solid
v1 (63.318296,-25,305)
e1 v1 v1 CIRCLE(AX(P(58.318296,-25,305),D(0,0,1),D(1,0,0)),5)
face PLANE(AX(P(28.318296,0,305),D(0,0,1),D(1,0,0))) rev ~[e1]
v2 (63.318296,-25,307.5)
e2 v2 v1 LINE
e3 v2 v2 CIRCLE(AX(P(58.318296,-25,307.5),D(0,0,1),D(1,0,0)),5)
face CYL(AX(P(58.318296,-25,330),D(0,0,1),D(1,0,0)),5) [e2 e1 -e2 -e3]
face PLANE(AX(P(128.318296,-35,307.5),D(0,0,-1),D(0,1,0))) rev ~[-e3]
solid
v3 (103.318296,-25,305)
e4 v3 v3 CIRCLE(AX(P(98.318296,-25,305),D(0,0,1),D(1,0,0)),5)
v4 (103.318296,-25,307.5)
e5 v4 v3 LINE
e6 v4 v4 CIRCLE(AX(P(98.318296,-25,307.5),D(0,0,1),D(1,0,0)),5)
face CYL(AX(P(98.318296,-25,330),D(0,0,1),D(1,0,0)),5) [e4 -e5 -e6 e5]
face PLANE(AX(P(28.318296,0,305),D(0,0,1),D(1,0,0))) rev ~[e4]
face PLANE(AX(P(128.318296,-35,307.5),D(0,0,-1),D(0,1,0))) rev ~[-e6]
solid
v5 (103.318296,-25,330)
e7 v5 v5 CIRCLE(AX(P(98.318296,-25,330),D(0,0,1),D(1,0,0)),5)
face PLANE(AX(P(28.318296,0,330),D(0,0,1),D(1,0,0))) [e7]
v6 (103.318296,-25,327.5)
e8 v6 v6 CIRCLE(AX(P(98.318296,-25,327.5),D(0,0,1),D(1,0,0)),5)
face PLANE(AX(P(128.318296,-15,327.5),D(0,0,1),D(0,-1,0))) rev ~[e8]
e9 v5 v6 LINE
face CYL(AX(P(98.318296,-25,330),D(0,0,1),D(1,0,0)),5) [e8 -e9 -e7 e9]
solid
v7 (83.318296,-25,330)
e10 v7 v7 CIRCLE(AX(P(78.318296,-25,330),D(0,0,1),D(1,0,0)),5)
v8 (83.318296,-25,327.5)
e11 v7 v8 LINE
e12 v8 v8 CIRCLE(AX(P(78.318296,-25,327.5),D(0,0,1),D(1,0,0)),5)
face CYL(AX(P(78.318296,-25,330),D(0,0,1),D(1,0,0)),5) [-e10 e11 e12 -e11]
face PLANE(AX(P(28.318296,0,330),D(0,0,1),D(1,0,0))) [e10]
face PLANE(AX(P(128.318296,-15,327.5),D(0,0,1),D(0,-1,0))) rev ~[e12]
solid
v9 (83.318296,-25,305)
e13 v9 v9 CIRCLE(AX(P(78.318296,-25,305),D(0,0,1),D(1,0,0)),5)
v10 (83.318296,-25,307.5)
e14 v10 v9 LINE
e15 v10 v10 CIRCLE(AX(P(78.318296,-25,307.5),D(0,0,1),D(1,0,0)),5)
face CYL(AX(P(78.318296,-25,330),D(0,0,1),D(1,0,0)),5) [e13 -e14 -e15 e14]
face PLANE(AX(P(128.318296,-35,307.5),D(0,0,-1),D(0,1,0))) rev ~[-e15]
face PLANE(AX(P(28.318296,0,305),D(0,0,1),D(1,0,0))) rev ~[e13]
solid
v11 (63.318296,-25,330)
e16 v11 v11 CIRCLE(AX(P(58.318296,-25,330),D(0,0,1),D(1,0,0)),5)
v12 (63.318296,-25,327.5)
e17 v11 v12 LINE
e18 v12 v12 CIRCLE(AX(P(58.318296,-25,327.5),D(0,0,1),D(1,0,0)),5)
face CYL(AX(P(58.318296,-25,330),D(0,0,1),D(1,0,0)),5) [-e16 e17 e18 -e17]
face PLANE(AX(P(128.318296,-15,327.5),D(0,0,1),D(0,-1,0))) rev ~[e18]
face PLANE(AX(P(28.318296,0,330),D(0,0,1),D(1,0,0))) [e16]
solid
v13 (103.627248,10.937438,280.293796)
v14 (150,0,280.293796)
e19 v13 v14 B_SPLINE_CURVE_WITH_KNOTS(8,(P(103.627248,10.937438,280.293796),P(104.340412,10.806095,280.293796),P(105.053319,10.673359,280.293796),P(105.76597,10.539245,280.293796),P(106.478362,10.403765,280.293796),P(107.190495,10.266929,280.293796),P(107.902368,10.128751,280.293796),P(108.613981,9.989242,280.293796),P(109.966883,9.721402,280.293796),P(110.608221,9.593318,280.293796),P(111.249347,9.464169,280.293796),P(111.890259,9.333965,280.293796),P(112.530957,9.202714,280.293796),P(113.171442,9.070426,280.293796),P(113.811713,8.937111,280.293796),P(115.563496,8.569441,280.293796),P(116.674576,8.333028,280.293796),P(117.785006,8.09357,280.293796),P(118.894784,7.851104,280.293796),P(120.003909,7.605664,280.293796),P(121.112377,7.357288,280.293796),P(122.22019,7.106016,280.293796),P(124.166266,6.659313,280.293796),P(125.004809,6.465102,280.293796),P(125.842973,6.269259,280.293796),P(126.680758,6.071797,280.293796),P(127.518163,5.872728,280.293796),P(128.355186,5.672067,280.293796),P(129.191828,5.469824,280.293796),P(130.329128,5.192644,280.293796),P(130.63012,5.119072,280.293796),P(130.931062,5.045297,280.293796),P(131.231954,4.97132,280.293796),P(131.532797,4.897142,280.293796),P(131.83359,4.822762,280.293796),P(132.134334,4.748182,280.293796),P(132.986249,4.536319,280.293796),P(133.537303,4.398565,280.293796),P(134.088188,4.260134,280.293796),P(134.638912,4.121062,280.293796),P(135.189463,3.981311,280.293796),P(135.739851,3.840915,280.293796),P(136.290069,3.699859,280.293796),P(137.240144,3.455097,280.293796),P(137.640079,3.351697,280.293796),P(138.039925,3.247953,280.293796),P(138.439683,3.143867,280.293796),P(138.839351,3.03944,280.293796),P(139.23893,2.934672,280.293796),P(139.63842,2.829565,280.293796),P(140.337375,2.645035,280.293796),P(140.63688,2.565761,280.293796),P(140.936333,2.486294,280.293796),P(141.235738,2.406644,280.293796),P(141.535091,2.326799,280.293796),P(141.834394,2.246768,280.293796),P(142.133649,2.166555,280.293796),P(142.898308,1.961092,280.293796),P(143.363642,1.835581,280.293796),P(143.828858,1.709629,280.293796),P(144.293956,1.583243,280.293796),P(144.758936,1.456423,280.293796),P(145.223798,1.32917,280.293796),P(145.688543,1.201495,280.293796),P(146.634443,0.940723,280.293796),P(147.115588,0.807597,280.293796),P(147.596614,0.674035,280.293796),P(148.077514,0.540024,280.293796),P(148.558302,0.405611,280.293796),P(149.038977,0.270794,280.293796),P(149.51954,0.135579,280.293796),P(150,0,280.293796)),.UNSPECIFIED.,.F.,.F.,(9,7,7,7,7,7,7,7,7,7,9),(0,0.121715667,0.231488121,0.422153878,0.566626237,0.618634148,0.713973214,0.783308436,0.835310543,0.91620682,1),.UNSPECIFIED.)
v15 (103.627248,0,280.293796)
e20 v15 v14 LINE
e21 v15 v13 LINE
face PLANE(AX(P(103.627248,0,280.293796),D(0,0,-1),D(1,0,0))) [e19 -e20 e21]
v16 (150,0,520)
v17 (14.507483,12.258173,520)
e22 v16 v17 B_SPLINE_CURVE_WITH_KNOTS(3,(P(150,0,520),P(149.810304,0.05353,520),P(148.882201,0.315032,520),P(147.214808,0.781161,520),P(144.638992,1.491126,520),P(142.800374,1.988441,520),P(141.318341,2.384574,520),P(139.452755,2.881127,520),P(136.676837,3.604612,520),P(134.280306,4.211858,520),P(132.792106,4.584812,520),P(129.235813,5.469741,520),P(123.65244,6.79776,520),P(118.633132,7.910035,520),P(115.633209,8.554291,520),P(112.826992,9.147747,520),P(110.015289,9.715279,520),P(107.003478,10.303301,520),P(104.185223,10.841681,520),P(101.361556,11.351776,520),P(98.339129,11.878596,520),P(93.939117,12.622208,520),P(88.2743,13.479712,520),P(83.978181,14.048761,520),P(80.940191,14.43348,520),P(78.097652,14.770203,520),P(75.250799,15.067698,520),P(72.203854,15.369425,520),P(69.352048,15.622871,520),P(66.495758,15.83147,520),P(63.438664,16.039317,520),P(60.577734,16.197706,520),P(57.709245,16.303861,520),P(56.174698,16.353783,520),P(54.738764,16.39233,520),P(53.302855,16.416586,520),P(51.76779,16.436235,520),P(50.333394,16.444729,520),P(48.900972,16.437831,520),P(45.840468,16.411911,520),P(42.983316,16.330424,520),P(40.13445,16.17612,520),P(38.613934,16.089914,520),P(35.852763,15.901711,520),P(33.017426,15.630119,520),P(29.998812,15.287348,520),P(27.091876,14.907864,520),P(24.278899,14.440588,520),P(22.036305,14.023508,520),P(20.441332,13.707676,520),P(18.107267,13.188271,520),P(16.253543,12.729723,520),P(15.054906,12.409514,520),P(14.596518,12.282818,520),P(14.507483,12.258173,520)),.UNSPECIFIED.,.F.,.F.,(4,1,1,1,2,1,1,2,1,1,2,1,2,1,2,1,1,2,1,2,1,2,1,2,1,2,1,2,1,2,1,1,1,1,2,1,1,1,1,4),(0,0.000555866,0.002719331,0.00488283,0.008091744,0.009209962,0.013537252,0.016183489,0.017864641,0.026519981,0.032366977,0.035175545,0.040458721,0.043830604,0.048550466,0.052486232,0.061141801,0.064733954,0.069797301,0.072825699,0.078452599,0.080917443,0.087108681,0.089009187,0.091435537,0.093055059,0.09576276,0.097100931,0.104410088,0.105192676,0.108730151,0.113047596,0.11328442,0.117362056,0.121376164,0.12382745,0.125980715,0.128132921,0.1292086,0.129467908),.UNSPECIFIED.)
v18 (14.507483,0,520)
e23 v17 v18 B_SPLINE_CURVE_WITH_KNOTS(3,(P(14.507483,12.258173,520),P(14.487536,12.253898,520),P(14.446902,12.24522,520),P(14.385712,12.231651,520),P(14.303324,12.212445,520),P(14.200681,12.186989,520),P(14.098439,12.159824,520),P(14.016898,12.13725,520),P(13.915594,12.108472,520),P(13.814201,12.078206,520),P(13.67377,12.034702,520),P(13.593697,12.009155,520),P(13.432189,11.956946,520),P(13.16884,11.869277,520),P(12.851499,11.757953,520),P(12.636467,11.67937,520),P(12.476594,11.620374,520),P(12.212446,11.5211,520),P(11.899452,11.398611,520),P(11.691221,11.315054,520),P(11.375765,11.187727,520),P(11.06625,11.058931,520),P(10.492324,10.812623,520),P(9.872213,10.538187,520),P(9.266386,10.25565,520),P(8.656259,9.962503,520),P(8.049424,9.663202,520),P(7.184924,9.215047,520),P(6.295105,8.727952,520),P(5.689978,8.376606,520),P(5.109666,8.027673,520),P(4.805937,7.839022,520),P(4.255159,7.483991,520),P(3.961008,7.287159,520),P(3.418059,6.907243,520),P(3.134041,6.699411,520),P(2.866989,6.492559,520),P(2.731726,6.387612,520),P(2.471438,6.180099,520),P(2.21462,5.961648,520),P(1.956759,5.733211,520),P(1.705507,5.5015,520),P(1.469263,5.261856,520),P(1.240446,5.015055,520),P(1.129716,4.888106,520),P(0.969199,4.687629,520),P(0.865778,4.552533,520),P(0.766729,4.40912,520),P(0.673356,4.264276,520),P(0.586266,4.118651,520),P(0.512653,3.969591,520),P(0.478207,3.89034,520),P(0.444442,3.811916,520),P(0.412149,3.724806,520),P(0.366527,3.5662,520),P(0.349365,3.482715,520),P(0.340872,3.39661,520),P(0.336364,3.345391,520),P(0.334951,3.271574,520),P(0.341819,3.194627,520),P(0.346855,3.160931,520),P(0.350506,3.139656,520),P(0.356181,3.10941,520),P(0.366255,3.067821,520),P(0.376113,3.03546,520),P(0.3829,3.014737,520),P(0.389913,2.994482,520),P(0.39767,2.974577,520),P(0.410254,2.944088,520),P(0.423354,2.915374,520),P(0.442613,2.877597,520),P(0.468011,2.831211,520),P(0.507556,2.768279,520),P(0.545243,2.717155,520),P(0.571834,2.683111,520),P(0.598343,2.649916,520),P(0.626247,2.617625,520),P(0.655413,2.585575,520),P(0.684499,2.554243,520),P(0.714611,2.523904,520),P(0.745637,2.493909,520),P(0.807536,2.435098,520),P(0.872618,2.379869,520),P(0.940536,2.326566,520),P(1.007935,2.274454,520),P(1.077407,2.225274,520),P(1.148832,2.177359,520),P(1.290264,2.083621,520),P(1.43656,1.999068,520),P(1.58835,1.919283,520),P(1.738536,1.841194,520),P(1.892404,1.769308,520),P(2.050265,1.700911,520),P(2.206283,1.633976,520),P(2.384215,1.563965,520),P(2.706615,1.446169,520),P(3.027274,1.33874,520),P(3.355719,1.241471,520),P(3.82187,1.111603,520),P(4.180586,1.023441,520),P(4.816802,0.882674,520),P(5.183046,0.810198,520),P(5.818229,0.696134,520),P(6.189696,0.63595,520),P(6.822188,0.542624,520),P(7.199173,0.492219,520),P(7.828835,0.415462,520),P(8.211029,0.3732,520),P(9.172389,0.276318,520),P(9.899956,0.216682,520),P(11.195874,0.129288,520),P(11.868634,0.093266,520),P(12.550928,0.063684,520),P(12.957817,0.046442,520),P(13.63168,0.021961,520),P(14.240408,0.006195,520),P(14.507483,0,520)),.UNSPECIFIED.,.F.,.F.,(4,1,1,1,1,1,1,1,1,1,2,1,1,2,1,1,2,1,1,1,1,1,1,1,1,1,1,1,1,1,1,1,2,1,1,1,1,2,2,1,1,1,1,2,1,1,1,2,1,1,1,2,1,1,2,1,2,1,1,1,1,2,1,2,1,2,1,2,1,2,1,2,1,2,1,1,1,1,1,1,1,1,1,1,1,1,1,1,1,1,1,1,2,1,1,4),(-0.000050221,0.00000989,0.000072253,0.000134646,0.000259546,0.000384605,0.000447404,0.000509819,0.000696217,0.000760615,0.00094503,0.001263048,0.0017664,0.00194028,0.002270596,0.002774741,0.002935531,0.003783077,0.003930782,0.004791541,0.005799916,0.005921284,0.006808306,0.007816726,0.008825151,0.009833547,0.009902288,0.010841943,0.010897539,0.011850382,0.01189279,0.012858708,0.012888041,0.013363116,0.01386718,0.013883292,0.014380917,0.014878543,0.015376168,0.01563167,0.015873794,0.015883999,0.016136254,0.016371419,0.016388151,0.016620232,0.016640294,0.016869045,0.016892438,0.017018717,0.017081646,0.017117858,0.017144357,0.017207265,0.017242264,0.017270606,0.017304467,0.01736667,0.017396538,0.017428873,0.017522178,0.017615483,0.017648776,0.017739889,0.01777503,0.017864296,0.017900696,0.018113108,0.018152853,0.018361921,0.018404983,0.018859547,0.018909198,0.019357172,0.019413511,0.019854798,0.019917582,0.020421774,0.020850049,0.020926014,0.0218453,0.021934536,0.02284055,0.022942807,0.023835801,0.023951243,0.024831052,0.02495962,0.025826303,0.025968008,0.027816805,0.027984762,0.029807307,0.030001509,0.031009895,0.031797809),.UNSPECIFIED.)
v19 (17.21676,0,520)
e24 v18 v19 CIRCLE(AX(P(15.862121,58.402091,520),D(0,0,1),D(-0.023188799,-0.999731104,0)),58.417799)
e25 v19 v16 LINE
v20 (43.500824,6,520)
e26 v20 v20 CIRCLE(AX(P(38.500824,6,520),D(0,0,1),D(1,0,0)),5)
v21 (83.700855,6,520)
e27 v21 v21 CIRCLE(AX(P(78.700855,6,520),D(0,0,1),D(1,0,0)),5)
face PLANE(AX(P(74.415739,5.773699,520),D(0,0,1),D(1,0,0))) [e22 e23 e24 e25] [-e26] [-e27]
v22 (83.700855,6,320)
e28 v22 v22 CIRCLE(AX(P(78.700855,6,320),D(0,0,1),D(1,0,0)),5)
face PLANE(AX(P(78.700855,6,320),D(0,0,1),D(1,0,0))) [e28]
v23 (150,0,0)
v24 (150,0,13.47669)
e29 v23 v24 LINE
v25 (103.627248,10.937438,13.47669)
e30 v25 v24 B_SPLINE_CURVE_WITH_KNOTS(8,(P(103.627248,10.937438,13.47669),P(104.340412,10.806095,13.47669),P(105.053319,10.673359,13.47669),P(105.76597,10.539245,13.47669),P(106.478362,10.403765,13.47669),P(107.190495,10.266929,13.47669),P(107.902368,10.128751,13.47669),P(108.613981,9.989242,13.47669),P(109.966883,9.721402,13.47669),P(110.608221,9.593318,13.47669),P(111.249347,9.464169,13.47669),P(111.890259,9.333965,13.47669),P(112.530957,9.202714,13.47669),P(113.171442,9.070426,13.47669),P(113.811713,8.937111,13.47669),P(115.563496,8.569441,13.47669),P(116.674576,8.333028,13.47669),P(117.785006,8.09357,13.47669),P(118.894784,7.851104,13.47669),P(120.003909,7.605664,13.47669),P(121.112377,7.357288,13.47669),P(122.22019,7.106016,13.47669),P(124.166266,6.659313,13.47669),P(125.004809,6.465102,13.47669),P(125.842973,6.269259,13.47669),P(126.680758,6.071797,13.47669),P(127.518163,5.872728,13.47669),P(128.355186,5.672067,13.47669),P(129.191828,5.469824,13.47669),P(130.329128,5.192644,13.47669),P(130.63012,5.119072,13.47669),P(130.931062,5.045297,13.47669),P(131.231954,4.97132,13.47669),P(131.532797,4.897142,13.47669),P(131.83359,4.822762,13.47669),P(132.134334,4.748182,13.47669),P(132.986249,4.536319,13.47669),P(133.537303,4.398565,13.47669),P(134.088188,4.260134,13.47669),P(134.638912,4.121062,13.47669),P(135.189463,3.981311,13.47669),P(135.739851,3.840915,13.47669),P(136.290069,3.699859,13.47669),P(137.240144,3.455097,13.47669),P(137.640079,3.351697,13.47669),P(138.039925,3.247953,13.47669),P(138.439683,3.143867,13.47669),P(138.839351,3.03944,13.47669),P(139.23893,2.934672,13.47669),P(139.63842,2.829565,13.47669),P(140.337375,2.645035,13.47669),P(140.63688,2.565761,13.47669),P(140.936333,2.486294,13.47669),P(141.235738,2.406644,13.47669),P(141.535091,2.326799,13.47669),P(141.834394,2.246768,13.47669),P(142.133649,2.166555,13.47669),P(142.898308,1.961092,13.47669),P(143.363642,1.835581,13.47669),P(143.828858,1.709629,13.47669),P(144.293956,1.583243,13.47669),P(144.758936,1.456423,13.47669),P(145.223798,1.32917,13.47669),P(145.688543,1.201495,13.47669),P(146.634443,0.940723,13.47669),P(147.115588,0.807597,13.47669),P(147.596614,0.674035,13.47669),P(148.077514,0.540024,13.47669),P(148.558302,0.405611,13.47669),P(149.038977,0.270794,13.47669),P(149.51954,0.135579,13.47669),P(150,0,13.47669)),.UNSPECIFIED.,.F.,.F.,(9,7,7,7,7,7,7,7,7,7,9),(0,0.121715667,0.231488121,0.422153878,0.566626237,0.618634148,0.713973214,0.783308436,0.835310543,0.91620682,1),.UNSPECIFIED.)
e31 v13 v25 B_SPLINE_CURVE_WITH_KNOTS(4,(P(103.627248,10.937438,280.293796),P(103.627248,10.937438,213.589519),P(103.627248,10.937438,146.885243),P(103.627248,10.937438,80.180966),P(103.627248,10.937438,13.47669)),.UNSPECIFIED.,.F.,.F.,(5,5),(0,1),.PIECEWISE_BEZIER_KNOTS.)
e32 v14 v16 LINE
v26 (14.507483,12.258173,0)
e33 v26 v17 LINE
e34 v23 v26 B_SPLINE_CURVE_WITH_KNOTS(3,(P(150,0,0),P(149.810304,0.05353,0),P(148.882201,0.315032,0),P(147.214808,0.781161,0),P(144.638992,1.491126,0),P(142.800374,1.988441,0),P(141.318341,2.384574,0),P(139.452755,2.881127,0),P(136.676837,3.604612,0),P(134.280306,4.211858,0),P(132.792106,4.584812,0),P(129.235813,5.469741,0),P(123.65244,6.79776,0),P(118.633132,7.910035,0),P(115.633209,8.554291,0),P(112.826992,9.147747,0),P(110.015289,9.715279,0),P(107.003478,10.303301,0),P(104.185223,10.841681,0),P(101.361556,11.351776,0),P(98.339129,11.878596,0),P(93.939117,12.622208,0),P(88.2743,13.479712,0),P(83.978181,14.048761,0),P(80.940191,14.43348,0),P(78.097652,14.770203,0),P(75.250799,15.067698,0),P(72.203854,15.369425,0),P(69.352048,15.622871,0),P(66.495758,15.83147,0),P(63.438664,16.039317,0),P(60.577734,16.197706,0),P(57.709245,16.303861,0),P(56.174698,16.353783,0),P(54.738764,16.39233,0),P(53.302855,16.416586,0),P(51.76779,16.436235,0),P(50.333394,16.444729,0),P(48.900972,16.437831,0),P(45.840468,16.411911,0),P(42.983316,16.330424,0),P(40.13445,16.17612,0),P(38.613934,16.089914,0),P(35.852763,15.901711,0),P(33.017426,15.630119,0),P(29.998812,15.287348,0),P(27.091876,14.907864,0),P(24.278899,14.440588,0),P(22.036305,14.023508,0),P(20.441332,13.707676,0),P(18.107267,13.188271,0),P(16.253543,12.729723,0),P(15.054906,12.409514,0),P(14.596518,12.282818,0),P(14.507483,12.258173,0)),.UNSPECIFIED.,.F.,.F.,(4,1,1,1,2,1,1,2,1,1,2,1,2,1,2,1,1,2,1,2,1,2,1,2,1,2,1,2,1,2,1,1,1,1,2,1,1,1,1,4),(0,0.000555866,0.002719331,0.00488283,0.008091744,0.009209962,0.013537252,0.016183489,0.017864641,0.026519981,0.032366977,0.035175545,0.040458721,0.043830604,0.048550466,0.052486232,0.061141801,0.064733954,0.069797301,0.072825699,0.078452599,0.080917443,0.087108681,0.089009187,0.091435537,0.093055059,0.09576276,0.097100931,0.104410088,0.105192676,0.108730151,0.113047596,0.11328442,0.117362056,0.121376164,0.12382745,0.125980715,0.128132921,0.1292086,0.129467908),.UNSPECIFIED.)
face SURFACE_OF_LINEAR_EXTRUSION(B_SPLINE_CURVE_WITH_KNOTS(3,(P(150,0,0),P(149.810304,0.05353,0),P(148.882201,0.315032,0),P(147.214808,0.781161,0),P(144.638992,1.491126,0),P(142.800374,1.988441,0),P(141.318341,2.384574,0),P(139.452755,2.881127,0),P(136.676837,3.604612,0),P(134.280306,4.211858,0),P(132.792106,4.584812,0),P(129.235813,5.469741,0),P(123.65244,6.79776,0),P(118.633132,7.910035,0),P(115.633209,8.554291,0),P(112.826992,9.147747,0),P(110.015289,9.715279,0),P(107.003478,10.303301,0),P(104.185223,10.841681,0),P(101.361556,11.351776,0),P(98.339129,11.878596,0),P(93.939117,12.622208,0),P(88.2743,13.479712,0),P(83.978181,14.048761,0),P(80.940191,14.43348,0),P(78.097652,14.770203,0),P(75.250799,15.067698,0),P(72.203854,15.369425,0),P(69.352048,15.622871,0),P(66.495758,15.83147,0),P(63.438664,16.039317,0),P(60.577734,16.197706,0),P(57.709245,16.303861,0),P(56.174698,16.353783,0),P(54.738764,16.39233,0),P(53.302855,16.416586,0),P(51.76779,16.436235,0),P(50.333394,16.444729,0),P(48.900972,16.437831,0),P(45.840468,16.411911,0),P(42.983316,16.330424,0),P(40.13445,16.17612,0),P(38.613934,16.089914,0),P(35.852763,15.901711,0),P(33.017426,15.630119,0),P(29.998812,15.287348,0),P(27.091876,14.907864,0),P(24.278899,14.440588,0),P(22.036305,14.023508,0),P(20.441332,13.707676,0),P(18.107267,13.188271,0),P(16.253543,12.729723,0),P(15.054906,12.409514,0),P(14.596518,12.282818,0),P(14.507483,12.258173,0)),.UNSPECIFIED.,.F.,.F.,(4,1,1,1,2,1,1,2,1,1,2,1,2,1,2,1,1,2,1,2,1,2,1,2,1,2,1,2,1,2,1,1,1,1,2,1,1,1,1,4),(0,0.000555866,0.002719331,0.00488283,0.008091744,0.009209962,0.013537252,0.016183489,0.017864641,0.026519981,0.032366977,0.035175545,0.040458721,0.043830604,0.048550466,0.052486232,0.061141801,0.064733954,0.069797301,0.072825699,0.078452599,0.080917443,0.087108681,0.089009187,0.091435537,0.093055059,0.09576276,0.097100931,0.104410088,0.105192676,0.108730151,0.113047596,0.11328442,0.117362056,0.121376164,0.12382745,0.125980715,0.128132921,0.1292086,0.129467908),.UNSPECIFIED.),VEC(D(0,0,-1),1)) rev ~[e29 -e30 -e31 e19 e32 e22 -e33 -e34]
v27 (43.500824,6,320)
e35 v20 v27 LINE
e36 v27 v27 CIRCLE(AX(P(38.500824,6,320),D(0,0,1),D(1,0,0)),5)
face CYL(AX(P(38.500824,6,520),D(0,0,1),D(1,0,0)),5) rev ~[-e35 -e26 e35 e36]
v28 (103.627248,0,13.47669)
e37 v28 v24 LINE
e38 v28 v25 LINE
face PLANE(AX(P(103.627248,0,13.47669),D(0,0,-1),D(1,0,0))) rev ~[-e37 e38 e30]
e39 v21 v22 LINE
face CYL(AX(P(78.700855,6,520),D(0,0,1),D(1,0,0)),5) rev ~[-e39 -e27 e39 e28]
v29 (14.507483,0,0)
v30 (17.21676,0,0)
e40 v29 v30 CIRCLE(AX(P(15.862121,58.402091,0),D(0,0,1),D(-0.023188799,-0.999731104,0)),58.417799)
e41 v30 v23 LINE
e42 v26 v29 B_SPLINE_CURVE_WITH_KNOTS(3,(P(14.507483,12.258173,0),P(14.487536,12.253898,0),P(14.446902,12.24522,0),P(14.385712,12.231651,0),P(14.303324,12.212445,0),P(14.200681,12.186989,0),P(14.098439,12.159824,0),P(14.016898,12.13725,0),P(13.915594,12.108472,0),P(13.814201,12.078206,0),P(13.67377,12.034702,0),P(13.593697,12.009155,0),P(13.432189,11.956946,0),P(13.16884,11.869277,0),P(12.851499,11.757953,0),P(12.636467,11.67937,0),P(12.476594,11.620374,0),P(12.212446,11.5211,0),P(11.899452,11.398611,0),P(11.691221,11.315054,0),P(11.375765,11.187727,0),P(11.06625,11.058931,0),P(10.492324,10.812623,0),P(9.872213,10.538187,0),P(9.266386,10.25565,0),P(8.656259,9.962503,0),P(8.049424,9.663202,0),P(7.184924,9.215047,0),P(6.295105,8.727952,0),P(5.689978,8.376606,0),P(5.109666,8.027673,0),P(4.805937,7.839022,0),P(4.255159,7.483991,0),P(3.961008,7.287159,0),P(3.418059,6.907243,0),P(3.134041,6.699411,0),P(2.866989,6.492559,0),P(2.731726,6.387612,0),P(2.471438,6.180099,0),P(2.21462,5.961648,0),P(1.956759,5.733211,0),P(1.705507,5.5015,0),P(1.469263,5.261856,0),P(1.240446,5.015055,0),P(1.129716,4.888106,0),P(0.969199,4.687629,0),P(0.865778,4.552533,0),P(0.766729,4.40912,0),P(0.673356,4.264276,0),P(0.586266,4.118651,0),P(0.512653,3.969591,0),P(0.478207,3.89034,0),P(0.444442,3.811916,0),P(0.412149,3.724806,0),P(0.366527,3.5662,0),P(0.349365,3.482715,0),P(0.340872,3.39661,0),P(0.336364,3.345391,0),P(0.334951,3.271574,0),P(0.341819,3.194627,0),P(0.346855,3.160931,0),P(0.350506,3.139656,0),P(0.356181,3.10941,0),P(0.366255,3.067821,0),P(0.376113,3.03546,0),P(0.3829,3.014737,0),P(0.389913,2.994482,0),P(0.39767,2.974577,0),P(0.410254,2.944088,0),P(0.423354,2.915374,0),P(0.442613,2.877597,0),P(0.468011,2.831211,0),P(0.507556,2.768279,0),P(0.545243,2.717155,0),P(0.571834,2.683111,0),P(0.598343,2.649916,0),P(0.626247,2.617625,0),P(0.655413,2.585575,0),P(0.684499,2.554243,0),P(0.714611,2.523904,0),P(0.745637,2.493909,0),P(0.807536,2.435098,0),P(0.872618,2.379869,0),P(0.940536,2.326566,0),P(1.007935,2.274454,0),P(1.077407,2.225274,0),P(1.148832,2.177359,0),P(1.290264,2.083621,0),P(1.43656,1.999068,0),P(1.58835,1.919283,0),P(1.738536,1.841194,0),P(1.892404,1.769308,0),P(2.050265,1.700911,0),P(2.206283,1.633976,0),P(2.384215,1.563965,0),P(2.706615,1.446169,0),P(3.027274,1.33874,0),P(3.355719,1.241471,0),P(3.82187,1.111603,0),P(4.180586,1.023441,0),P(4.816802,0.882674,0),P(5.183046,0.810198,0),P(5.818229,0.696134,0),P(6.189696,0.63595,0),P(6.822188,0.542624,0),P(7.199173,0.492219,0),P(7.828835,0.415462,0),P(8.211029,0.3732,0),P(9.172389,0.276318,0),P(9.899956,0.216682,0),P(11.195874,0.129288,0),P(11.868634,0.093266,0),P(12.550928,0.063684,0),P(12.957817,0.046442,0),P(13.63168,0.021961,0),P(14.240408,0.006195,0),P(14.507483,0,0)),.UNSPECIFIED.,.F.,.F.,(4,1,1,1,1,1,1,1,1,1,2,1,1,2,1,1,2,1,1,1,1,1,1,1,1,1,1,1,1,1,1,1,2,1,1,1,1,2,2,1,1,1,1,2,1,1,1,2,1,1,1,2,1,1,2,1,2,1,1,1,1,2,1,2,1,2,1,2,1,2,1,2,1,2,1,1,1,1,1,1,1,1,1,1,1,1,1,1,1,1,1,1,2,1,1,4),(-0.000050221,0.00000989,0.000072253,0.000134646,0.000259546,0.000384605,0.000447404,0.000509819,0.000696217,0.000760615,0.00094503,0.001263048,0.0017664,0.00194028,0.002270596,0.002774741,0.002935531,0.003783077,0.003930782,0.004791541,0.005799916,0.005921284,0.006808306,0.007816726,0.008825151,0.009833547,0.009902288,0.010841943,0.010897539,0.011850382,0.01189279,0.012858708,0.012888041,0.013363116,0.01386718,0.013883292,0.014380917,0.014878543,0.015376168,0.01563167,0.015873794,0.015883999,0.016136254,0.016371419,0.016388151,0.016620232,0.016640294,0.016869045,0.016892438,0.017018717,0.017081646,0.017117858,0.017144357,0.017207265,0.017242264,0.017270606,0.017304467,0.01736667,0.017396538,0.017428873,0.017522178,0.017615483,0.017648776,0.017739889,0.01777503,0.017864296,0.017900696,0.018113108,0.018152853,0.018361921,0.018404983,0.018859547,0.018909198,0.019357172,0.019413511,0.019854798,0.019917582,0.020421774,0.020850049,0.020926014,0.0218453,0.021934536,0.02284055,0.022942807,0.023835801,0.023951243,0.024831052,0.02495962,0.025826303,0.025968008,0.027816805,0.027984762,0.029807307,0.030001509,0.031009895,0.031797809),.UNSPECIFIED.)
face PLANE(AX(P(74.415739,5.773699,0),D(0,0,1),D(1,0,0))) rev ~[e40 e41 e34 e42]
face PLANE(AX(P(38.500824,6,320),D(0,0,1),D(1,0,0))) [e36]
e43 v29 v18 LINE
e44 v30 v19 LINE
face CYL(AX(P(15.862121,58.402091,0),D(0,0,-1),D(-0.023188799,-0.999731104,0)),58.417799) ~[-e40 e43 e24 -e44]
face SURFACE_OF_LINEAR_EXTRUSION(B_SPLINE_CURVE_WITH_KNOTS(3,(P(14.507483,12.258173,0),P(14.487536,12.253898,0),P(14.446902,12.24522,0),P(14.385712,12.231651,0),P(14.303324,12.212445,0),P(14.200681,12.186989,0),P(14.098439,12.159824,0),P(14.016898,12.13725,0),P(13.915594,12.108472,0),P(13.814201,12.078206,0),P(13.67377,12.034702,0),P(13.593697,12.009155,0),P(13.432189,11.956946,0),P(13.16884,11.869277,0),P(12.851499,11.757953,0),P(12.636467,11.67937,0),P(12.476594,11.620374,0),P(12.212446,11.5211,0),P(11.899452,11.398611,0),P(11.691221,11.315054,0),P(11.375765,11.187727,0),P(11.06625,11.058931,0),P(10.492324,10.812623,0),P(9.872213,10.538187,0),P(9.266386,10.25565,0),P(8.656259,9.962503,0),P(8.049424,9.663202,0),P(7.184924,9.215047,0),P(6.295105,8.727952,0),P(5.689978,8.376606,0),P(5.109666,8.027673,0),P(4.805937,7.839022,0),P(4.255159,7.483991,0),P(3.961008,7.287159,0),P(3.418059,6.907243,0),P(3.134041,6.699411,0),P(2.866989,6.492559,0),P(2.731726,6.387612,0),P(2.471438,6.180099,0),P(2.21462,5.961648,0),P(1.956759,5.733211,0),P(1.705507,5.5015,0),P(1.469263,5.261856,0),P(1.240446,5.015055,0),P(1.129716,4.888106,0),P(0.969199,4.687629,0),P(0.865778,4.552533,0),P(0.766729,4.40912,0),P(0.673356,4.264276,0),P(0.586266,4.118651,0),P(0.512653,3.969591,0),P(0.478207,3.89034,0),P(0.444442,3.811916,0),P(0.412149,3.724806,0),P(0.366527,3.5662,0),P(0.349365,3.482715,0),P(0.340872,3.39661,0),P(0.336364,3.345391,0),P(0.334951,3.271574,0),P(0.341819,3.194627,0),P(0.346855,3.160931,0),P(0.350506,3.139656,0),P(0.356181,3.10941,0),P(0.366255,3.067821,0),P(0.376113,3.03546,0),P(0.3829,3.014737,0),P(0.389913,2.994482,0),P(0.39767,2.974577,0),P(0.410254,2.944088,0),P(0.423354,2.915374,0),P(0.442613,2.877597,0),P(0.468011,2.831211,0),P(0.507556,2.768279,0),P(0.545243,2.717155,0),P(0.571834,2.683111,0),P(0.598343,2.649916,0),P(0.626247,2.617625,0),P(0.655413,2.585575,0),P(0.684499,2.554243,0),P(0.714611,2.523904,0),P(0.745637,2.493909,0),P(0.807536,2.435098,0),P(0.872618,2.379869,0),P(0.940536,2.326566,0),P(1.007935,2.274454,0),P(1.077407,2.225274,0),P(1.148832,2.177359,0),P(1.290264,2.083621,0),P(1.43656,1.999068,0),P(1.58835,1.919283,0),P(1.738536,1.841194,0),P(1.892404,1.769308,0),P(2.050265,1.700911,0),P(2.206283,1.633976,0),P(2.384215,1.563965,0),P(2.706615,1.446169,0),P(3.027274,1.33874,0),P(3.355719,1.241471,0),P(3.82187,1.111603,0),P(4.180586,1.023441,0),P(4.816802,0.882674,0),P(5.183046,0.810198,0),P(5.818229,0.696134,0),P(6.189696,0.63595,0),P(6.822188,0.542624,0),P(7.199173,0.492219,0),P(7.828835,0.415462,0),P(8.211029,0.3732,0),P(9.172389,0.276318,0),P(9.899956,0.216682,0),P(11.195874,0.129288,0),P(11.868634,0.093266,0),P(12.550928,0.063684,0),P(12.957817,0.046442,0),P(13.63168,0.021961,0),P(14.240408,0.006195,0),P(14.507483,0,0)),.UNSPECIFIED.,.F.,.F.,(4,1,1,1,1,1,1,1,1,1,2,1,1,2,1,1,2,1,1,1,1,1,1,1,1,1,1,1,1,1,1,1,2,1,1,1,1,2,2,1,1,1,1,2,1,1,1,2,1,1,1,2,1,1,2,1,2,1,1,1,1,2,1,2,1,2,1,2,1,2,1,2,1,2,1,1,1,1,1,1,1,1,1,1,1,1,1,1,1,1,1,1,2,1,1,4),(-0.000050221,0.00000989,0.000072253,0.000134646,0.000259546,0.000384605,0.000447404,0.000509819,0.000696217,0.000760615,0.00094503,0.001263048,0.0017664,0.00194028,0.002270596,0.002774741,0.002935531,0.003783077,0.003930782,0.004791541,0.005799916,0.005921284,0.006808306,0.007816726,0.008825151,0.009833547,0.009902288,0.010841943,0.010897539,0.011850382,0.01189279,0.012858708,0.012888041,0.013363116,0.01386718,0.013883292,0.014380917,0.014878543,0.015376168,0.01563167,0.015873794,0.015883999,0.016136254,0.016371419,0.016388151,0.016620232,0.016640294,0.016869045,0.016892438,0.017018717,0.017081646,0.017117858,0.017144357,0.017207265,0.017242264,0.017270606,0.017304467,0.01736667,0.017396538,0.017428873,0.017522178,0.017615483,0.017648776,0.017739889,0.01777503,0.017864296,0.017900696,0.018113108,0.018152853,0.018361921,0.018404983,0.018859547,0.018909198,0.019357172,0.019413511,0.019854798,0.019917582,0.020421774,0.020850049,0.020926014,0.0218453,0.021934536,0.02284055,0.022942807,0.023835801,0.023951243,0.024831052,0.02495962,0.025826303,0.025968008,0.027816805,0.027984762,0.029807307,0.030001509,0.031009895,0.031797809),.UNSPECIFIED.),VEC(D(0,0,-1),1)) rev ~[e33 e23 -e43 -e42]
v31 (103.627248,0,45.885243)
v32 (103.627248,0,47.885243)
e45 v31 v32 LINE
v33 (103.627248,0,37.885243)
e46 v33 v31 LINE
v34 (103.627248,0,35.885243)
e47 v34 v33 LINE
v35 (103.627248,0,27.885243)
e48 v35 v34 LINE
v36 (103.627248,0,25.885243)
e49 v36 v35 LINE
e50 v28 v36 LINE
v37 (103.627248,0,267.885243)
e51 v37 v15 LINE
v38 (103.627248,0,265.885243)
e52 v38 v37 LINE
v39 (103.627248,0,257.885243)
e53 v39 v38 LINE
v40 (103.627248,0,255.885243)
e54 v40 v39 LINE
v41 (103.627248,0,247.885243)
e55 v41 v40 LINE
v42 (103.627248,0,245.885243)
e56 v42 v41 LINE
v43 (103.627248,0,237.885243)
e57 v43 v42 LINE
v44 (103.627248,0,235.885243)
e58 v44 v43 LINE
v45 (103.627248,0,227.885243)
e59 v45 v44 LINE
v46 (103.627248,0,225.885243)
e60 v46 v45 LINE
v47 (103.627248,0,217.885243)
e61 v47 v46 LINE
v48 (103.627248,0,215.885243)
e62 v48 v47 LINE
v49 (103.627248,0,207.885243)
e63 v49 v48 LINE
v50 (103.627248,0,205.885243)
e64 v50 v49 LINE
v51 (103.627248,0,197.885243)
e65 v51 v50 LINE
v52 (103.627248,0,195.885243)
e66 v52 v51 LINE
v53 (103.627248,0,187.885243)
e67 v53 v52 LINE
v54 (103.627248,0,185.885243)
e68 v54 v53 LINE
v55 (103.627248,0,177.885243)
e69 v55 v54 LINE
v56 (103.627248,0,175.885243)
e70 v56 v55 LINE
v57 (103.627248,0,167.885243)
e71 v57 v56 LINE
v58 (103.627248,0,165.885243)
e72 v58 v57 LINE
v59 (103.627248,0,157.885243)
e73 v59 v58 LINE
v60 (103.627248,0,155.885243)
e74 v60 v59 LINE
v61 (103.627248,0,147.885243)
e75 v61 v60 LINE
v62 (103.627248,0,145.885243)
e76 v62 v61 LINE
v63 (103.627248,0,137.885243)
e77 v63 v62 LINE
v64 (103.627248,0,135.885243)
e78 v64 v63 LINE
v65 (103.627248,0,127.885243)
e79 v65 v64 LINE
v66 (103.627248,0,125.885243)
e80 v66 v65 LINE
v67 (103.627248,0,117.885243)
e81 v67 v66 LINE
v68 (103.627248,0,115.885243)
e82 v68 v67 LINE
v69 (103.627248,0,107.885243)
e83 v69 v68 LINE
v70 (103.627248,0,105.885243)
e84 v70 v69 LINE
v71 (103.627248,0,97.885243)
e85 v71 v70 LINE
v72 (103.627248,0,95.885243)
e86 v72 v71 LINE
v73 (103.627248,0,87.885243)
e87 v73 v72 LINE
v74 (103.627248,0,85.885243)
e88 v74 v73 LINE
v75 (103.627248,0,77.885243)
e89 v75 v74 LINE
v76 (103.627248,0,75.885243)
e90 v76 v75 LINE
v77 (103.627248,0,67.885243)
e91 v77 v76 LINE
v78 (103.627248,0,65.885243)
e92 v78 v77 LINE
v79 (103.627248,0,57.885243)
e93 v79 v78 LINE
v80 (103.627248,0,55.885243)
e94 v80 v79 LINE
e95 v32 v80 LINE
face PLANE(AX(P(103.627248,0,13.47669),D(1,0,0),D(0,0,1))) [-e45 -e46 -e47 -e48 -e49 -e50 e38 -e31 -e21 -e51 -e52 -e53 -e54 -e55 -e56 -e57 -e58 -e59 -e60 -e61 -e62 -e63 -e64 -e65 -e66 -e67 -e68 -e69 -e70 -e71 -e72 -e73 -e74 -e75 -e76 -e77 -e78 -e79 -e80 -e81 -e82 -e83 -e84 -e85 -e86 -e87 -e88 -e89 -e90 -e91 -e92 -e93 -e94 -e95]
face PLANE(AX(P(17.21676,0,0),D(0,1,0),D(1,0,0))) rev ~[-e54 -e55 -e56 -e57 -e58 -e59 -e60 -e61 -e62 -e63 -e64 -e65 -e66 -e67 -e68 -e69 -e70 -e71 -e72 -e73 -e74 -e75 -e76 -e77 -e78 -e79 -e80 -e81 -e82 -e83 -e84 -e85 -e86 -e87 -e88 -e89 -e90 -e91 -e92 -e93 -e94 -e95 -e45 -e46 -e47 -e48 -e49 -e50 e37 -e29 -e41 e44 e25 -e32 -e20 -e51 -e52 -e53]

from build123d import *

# Parameters (mm, degrees)
EXTRUDE_1_DEPTH = 520
SKETCH_2_R      = 5
EXTRUDE_2_DEPTH = 200
SKETCH_3_W      = 100
SKETCH_3_H      = 25
EXTRUDE_3_DEPTH = 35
EXTRUDE_5_DEPTH = 537.660389604
SKETCH_5_W      = 100
SKETCH_5_H      = 35
SKETCH_5_R      = 5
EXTRUDE_6_DEPTH = 365.177154824
SKETCH_6_W      = 46.372751661
SKETCH_6_H      = 266.817106028
EXTRUDE_7_DEPTH = 543.033209438
SKETCH_7_W      = 2
SKETCH_7_H      = 2
EXTRUDE_8_DEPTH = 8


with BuildPart() as part:
    # Эскиз1 → Выдавливание1 (new body)
    with BuildSketch(Plane.XY):
        with BuildLine():
            Line((17.216759952, 0), (24.157065095, 0))
            Line((24.157065095, 0), (150, 0))
            add(Edge.make_bspline(
                [(150, 0), (149.81030361, 0.053529617), (148.882201468, 0.315032337), (147.214807613, 0.781161069), (144.638992179, 1.491126094), (142.800374455, 1.988440996), (141.318340661, 2.384573546), (139.452754799, 2.881127143), (136.676837397, 3.60461154), (134.280306387, 4.211858432), (132.792106382, 4.584811685), (129.235813394, 5.46974053), (123.652440035, 6.797759966), (118.633131672, 7.910034679), (115.633209291, 8.554290821), (112.826991836, 9.14774681), (110.015289351, 9.715279489), (107.003478198, 10.303301487), (104.185223481, 10.841681269), (101.361556105, 11.351776466), (98.339129081, 11.878596065), (93.939117131, 12.622208256), (88.274300406, 13.479712404), (83.978181221, 14.048760672), (80.940191222, 14.433479778), (78.097651877, 14.770202545), (75.250798587, 15.067698456), (72.203853845, 15.36942512), (69.352048191, 15.622870882), (66.495757502, 15.831470209), (63.438664304, 16.039316694), (60.577734283, 16.197706139), (57.709244977, 16.303860565), (56.174698043, 16.35378285), (54.738764009, 16.392329985), (53.302855383, 16.416586442), (51.767789961, 16.436234823), (50.33339422, 16.444728865), (48.900971922, 16.437830659), (45.840467882, 16.411910759), (42.983315883, 16.330424119), (40.134450484, 16.176120437), (38.613933889, 16.08991393), (35.852762791, 15.90171105), (33.017426128, 15.63011911), (29.998812251, 15.287348394), (27.091876231, 14.907864343), (24.278899318, 14.440588093), (22.036305082, 14.023508093), (20.441331811, 13.707675659), (18.107266882, 13.188271141), (16.253542661, 12.729723055), (15.054906131, 12.409514194), (14.596518451, 12.282817756), (14.507482762, 12.258173389)],
                knots=[0, 0, 0, 0, 0.000555866, 0.002719331, 0.00488283, 0.008091744, 0.008091744, 0.009209962, 0.013537252, 0.016183489, 0.016183489, 0.017864641, 0.026519981, 0.032366977, 0.032366977, 0.035175545, 0.040458721, 0.040458721, 0.043830604, 0.048550466, 0.048550466, 0.052486232, 0.061141801, 0.064733954, 0.064733954, 0.069797301, 0.072825699, 0.072825699, 0.078452599, 0.080917443, 0.080917443, 0.087108681, 0.089009187, 0.089009187, 0.091435537, 0.093055059, 0.093055059, 0.09576276, 0.097100931, 0.097100931, 0.104410088, 0.105192676, 0.105192676, 0.108730151, 0.113047596, 0.11328442, 0.117362056, 0.121376164, 0.121376164, 0.12382745, 0.125980715, 0.128132921, 0.1292086, 0.129467908, 0.129467908, 0.129467908, 0.129467908], degree=3, weights=[1, 1, 1, 1, 1, 1, 1, 1, 1, 1, 1, 1, 1, 1, 1, 1, 1, 1, 1, 1, 1, 1, 1, 1, 1, 1, 1, 1, 1, 1, 1, 1, 1, 1, 1, 1, 1, 1, 1, 1, 1, 1, 1, 1, 1, 1, 1, 1, 1, 1, 1, 1, 1, 1, 1]))
            add(Edge.make_bspline(
                [(14.507482762, 12.258173389), (14.487535807, 12.253898122), (14.446901688, 12.245220345), (14.385711643, 12.231650532), (14.303323577, 12.212444955), (14.200681249, 12.186989009), (14.098438631, 12.15982399), (14.016898043, 12.137249748), (13.915594175, 12.1084723), (13.814201179, 12.078206173), (13.673769841, 12.034701594), (13.593697027, 12.009155218), (13.432189325, 11.956946018), (13.168840213, 11.869276948), (12.851499095, 11.757953312), (12.636467156, 11.679370184), (12.476593809, 11.620373962), (12.212445703, 11.521100357), (11.89945243, 11.398610607), (11.691220728, 11.315054079), (11.375765339, 11.18772747), (11.066249956, 11.058931166), (10.492323582, 10.812623104), (9.872212798, 10.53818667), (9.26638551, 10.255649662), (8.656258776, 9.96250305), (8.049423519, 9.663202301), (7.184923771, 9.215047291), (6.295104741, 8.727951549), (5.689978236, 8.376606344), (5.109666388, 8.027672554), (4.805937474, 7.839021656), (4.255159191, 7.483991103), (3.9610075, 7.287159116), (3.418058589, 6.907242806), (3.134040966, 6.699410672), (2.866989333, 6.492559067), (2.731726174, 6.387611968), (2.471438274, 6.180098709), (2.214619815, 5.961648166), (1.956759113, 5.733211183), (1.705506744, 5.50150004), (1.46926257, 5.261855665), (1.240445885, 5.01505543), (1.129715779, 4.888106001), (0.969198775, 4.687629252), (0.865778278, 4.552533175), (0.766728544, 4.409119764), (0.673356013, 4.264275974), (0.586265645, 4.118650705), (0.512652982, 3.969590756), (0.478206777, 3.890340257), (0.444441655, 3.811916491), (0.412149098, 3.724806261), (0.366526669, 3.566200236), (0.349365308, 3.482715473), (0.340871887, 3.396609769), (0.33636387, 3.34539112), (0.334950653, 3.271574435), (0.341818611, 3.194627296), (0.346855477, 3.160931387), (0.350505672, 3.139655787), (0.356181258, 3.109410374), (0.36625473, 3.067820677), (0.376112671, 3.035460297), (0.382899505, 3.014736516), (0.389912925, 2.994482377), (0.397670475, 2.974576502), (0.410253872, 2.944088059), (0.423354344, 2.915374275), (0.442613181, 2.877597263), (0.468010627, 2.83121116), (0.507556263, 2.768278917), (0.545243104, 2.717154575), (0.571834155, 2.683110592), (0.598343044, 2.649916419), (0.626246816, 2.61762498), (0.655413064, 2.585575163), (0.684498891, 2.554243039), (0.714610864, 2.523903985), (0.745637224, 2.493908873), (0.807535949, 2.435098484), (0.872617946, 2.379869398), (0.940536364, 2.326566353), (1.007934797, 2.274453715), (1.077407324, 2.225273737), (1.148832484, 2.177359309), (1.290264122, 2.083620806), (1.436560263, 1.999067792), (1.588349921, 1.919283473), (1.738535562, 1.841193672), (1.892403939, 1.769308367), (2.050265242, 1.700911073), (2.20628331, 1.633975521), (2.384215444, 1.563964929), (2.706615172, 1.446168585), (3.027274043, 1.338740204), (3.35571904, 1.241470547), (3.821869859, 1.111603171), (4.180585902, 1.023440761), (4.816802437, 0.882674339), (5.183046452, 0.810198297), (5.818229351, 0.69613406), (6.189696112, 0.63595021), (6.822187658, 0.542624491), (7.199172939, 0.492219044), (7.828835302, 0.415461616), (8.211029381, 0.373200208), (9.172389252, 0.276317664), (9.899956169, 0.216681888), (11.195873861, 0.129287928), (11.86863414, 0.093265995), (12.550927742, 0.063683748), (12.957817255, 0.046442251), (13.631679505, 0.021961472), (14.240407544, 0.006194819), (14.507482762, 0)],
                knots=[-5.0221e-05, -5.0221e-05, -5.0221e-05, -5.0221e-05, 9.89e-06, 7.2253e-05, 0.000134646, 0.000259546, 0.000384605, 0.000447404, 0.000509819, 0.000696217, 0.000760615, 0.00094503, 0.00094503, 0.001263048, 0.0017664, 0.00194028, 0.00194028, 0.002270596, 0.002774741, 0.002935531, 0.002935531, 0.003783077, 0.003930782, 0.004791541, 0.005799916, 0.005921284, 0.006808306, 0.007816726, 0.008825151, 0.009833547, 0.009902288, 0.010841943, 0.010897539, 0.011850382, 0.01189279, 0.012858708, 0.012888041, 0.012888041, 0.013363116, 0.01386718, 0.013883292, 0.014380917, 0.014878543, 0.014878543, 0.015376168, 0.015376168, 0.01563167, 0.015873794, 0.015883999, 0.016136254, 0.016371419, 0.016371419, 0.016388151, 0.016620232, 0.016640294, 0.016869045, 0.016869045, 0.016892438, 0.017018717, 0.017081646, 0.017117858, 0.017117858, 0.017144357, 0.017207265, 0.017242264, 0.017242264, 0.017270606, 0.017304467, 0.017304467, 0.01736667, 0.017396538, 0.017428873, 0.017522178, 0.017615483, 0.017615483, 0.017648776, 0.017739889, 0.017739889, 0.01777503, 0.017864296, 0.017864296, 0.017900696, 0.018113108, 0.018113108, 0.018152853, 0.018361921, 0.018361921, 0.018404983, 0.018859547, 0.018859547, 0.018909198, 0.019357172, 0.019357172, 0.019413511, 0.019854798, 0.019917582, 0.020421774, 0.020850049, 0.020926014, 0.0218453, 0.021934536, 0.02284055, 0.022942807, 0.023835801, 0.023951243, 0.024831052, 0.02495962, 0.025826303, 0.025968008, 0.027816805, 0.027984762, 0.029807307, 0.029807307, 0.030001509, 0.031009895, 0.031797809, 0.031797809, 0.031797809, 0.031797809], degree=3, weights=[1, 1, 1, 1, 1, 1, 1, 1, 1, 1, 1, 1, 1, 1, 1, 1, 1, 1, 1, 1, 1, 1, 1, 1, 1, 1, 1, 1, 1, 1, 1, 1, 1, 1, 1, 1, 1, 1, 1, 1, 1, 1, 1, 1, 1, 1, 1, 1, 1, 1, 1, 1, 1, 1, 1, 1, 1, 1, 1, 1, 1, 1, 1, 1, 1, 1, 1, 1, 1, 1, 1, 1, 1, 1, 1, 1, 1, 1, 1, 1, 1, 1, 1, 1, 1, 1, 1, 1, 1, 1, 1, 1, 1, 1, 1, 1, 1, 1, 1, 1, 1, 1, 1, 1, 1, 1, 1, 1, 1, 1, 1, 1, 1, 1, 1, 1, 1]))
            ThreePointArc((14.507482762, 0), (15.862121357, -0.015708333), (17.216759952, 0))
        make_face()
    extrude(amount=EXTRUDE_1_DEPTH)

    # Эскиз2 → Выдавливание2 (cut)
    with BuildSketch(Plane.XY.offset(520)):
        with Locations((78.700854972, 6)):
            Circle(SKETCH_2_R)
        with Locations((38.500824114, 6)):
            Circle(SKETCH_2_R)
    extrude(amount=-EXTRUDE_2_DEPTH, mode=Mode.SUBTRACT)

    # Эскиз3 → Выдавливание3 (add)
    with BuildSketch(Plane.XZ):
        with Locations((78.318296192, 317.5)):
            Rectangle(SKETCH_3_W, SKETCH_3_H)
    extrude(amount=EXTRUDE_3_DEPTH)

    # Эскиз4 → Выдавливание5 (cut, through all)
    with BuildSketch(Plane(origin=(128.318296192, 0, 0), x_dir=(0, 0, -1), z_dir=(1, 0, 0))):
        with BuildLine():
            Line((-327.5, -25), (-327.5, -35))
            Line((-327.5, -35), (-307.5, -35))
            Line((-307.5, -35), (-307.5, -25))
            Line((-307.5, -25), (-307.5, -15))
            ThreePointArc((-307.5, -15), (-317.5, -5), (-327.5, -15))
            Line((-327.5, -15), (-327.5, -25))
        make_face()
    extrude(amount=-EXTRUDE_5_DEPTH, mode=Mode.SUBTRACT)

    # Эскиз5 → Выдавливание6 (cut, through all)
    with BuildSketch(Plane.XY.offset(330)):
        with Locations((78.318296192, -17.5)):
            Rectangle(SKETCH_5_W, SKETCH_5_H)
        with Locations((58.318296192, -25)):
            Circle(SKETCH_5_R, mode=Mode.SUBTRACT)
        with Locations((78.318296192, -25)):
            Circle(SKETCH_5_R, mode=Mode.SUBTRACT)
        with Locations((98.318296192, -25)):
            Circle(SKETCH_5_R, mode=Mode.SUBTRACT)
    extrude(amount=-EXTRUDE_6_DEPTH, mode=Mode.SUBTRACT)


with BuildPart() as extrude_6_piece_1:
    # of the separate pieces the step leaves, piece 1, a body of its own (extrude_6_pieces)
    add(part.part.solids().sort_by_distance((17.216759952, 0, 0))[0])

    # Эскиз6 → Выдавливание7 (cut, through all)
    with BuildSketch(Plane.XZ):
        with Locations((126.81362417, 146.885242674)):
            Rectangle(SKETCH_6_W, SKETCH_6_H)
    extrude(amount=-EXTRUDE_7_DEPTH, mode=Mode.SUBTRACT)

    # Эскиз7 → Выдавливание8 (add)
    with BuildSketch(Plane.XZ):
        with Locations((102.627248339, 26.885242674)):
            Rectangle(SKETCH_7_W, SKETCH_7_H)
        with Locations((102.627248339, 46.885242674)):
            Rectangle(SKETCH_7_W, SKETCH_7_H)
        with Locations((102.627248339, 36.885242674)):
            Rectangle(SKETCH_7_W, SKETCH_7_H)
        with Locations((102.627248339, 56.885242674)):
            Rectangle(SKETCH_7_W, SKETCH_7_H)
        with Locations((102.627248339, 66.885242674)):
            Rectangle(SKETCH_7_W, SKETCH_7_H)
        with Locations((102.627248339, 76.885242674)):
            Rectangle(SKETCH_7_W, SKETCH_7_H)
        with Locations((102.627248339, 86.885242674)):
            Rectangle(SKETCH_7_W, SKETCH_7_H)
        with Locations((102.627248339, 96.885242674)):
            Rectangle(SKETCH_7_W, SKETCH_7_H)
        with Locations((102.627248339, 106.885242674)):
            Rectangle(SKETCH_7_W, SKETCH_7_H)
        with Locations((102.627248339, 116.885242674)):
            Rectangle(SKETCH_7_W, SKETCH_7_H)
        with Locations((102.627248339, 126.885242674)):
            Rectangle(SKETCH_7_W, SKETCH_7_H)
        with Locations((102.627248339, 146.885242674)):
            Rectangle(SKETCH_7_W, SKETCH_7_H)
        with Locations((102.627248339, 136.885242674)):
            Rectangle(SKETCH_7_W, SKETCH_7_H)
        with Locations((102.627248339, 156.885242674)):
            Rectangle(SKETCH_7_W, SKETCH_7_H)
        with Locations((102.627248339, 166.885242674)):
            Rectangle(SKETCH_7_W, SKETCH_7_H)
        with Locations((102.627248339, 176.885242674)):
            Rectangle(SKETCH_7_W, SKETCH_7_H)
        with Locations((102.627248339, 186.885242674)):
            Rectangle(SKETCH_7_W, SKETCH_7_H)
        with Locations((102.627248339, 196.885242674)):
            Rectangle(SKETCH_7_W, SKETCH_7_H)
        with Locations((102.627248339, 206.885242674)):
            Rectangle(SKETCH_7_W, SKETCH_7_H)
        with Locations((102.627248339, 216.885242674)):
            Rectangle(SKETCH_7_W, SKETCH_7_H)
        with Locations((102.627248339, 226.885242674)):
            Rectangle(SKETCH_7_W, SKETCH_7_H)
        with Locations((102.627248339, 236.885242674)):
            Rectangle(SKETCH_7_W, SKETCH_7_H)
        with Locations((102.627248339, 246.885242674)):
            Rectangle(SKETCH_7_W, SKETCH_7_H)
        with Locations((102.627248339, 256.885242674)):
            Rectangle(SKETCH_7_W, SKETCH_7_H)
        with Locations((102.627248339, 266.885242674)):
            Rectangle(SKETCH_7_W, SKETCH_7_H)
    extrude(amount=-EXTRUDE_8_DEPTH)


with BuildPart() as extrude_6_piece_2:
    # of the separate pieces the step leaves, piece 2, a body of its own (extrude_6_pieces)
    add(part.part.solids().sort_by_distance((63.318296192, -25, 305))[0])


with BuildPart() as extrude_6_piece_3:
    # of the separate pieces the step leaves, piece 3, a body of its own (extrude_6_pieces)
    add(part.part.solids().sort_by_distance((83.318296192, -25, 305))[0])


with BuildPart() as extrude_6_piece_4:
    # of the separate pieces the step leaves, piece 4, a body of its own (extrude_6_pieces)
    add(part.part.solids().sort_by_distance((103.318296192, -25, 305))[0])


with BuildPart() as extrude_6_piece_5:
    # of the separate pieces the step leaves, piece 5, a body of its own (extrude_6_pieces)
    add(part.part.solids().sort_by_distance((63.318296192, -25, 330))[0])


with BuildPart() as extrude_6_piece_6:
    # of the separate pieces the step leaves, piece 6, a body of its own (extrude_6_pieces)
    add(part.part.solids().sort_by_distance((83.318296192, -25, 330))[0])


with BuildPart() as extrude_6_piece_7:
    # of the separate pieces the step leaves, piece 7, a body of its own (extrude_6_pieces)
    add(part.part.solids().sort_by_distance((103.318296192, -25, 330))[0])


solid = Compound([extrude_6_piece_1.part, extrude_6_piece_2.part, extrude_6_piece_3.part, extrude_6_piece_4.part, extrude_6_piece_5.part, extrude_6_piece_6.part, extrude_6_piece_7.part])
